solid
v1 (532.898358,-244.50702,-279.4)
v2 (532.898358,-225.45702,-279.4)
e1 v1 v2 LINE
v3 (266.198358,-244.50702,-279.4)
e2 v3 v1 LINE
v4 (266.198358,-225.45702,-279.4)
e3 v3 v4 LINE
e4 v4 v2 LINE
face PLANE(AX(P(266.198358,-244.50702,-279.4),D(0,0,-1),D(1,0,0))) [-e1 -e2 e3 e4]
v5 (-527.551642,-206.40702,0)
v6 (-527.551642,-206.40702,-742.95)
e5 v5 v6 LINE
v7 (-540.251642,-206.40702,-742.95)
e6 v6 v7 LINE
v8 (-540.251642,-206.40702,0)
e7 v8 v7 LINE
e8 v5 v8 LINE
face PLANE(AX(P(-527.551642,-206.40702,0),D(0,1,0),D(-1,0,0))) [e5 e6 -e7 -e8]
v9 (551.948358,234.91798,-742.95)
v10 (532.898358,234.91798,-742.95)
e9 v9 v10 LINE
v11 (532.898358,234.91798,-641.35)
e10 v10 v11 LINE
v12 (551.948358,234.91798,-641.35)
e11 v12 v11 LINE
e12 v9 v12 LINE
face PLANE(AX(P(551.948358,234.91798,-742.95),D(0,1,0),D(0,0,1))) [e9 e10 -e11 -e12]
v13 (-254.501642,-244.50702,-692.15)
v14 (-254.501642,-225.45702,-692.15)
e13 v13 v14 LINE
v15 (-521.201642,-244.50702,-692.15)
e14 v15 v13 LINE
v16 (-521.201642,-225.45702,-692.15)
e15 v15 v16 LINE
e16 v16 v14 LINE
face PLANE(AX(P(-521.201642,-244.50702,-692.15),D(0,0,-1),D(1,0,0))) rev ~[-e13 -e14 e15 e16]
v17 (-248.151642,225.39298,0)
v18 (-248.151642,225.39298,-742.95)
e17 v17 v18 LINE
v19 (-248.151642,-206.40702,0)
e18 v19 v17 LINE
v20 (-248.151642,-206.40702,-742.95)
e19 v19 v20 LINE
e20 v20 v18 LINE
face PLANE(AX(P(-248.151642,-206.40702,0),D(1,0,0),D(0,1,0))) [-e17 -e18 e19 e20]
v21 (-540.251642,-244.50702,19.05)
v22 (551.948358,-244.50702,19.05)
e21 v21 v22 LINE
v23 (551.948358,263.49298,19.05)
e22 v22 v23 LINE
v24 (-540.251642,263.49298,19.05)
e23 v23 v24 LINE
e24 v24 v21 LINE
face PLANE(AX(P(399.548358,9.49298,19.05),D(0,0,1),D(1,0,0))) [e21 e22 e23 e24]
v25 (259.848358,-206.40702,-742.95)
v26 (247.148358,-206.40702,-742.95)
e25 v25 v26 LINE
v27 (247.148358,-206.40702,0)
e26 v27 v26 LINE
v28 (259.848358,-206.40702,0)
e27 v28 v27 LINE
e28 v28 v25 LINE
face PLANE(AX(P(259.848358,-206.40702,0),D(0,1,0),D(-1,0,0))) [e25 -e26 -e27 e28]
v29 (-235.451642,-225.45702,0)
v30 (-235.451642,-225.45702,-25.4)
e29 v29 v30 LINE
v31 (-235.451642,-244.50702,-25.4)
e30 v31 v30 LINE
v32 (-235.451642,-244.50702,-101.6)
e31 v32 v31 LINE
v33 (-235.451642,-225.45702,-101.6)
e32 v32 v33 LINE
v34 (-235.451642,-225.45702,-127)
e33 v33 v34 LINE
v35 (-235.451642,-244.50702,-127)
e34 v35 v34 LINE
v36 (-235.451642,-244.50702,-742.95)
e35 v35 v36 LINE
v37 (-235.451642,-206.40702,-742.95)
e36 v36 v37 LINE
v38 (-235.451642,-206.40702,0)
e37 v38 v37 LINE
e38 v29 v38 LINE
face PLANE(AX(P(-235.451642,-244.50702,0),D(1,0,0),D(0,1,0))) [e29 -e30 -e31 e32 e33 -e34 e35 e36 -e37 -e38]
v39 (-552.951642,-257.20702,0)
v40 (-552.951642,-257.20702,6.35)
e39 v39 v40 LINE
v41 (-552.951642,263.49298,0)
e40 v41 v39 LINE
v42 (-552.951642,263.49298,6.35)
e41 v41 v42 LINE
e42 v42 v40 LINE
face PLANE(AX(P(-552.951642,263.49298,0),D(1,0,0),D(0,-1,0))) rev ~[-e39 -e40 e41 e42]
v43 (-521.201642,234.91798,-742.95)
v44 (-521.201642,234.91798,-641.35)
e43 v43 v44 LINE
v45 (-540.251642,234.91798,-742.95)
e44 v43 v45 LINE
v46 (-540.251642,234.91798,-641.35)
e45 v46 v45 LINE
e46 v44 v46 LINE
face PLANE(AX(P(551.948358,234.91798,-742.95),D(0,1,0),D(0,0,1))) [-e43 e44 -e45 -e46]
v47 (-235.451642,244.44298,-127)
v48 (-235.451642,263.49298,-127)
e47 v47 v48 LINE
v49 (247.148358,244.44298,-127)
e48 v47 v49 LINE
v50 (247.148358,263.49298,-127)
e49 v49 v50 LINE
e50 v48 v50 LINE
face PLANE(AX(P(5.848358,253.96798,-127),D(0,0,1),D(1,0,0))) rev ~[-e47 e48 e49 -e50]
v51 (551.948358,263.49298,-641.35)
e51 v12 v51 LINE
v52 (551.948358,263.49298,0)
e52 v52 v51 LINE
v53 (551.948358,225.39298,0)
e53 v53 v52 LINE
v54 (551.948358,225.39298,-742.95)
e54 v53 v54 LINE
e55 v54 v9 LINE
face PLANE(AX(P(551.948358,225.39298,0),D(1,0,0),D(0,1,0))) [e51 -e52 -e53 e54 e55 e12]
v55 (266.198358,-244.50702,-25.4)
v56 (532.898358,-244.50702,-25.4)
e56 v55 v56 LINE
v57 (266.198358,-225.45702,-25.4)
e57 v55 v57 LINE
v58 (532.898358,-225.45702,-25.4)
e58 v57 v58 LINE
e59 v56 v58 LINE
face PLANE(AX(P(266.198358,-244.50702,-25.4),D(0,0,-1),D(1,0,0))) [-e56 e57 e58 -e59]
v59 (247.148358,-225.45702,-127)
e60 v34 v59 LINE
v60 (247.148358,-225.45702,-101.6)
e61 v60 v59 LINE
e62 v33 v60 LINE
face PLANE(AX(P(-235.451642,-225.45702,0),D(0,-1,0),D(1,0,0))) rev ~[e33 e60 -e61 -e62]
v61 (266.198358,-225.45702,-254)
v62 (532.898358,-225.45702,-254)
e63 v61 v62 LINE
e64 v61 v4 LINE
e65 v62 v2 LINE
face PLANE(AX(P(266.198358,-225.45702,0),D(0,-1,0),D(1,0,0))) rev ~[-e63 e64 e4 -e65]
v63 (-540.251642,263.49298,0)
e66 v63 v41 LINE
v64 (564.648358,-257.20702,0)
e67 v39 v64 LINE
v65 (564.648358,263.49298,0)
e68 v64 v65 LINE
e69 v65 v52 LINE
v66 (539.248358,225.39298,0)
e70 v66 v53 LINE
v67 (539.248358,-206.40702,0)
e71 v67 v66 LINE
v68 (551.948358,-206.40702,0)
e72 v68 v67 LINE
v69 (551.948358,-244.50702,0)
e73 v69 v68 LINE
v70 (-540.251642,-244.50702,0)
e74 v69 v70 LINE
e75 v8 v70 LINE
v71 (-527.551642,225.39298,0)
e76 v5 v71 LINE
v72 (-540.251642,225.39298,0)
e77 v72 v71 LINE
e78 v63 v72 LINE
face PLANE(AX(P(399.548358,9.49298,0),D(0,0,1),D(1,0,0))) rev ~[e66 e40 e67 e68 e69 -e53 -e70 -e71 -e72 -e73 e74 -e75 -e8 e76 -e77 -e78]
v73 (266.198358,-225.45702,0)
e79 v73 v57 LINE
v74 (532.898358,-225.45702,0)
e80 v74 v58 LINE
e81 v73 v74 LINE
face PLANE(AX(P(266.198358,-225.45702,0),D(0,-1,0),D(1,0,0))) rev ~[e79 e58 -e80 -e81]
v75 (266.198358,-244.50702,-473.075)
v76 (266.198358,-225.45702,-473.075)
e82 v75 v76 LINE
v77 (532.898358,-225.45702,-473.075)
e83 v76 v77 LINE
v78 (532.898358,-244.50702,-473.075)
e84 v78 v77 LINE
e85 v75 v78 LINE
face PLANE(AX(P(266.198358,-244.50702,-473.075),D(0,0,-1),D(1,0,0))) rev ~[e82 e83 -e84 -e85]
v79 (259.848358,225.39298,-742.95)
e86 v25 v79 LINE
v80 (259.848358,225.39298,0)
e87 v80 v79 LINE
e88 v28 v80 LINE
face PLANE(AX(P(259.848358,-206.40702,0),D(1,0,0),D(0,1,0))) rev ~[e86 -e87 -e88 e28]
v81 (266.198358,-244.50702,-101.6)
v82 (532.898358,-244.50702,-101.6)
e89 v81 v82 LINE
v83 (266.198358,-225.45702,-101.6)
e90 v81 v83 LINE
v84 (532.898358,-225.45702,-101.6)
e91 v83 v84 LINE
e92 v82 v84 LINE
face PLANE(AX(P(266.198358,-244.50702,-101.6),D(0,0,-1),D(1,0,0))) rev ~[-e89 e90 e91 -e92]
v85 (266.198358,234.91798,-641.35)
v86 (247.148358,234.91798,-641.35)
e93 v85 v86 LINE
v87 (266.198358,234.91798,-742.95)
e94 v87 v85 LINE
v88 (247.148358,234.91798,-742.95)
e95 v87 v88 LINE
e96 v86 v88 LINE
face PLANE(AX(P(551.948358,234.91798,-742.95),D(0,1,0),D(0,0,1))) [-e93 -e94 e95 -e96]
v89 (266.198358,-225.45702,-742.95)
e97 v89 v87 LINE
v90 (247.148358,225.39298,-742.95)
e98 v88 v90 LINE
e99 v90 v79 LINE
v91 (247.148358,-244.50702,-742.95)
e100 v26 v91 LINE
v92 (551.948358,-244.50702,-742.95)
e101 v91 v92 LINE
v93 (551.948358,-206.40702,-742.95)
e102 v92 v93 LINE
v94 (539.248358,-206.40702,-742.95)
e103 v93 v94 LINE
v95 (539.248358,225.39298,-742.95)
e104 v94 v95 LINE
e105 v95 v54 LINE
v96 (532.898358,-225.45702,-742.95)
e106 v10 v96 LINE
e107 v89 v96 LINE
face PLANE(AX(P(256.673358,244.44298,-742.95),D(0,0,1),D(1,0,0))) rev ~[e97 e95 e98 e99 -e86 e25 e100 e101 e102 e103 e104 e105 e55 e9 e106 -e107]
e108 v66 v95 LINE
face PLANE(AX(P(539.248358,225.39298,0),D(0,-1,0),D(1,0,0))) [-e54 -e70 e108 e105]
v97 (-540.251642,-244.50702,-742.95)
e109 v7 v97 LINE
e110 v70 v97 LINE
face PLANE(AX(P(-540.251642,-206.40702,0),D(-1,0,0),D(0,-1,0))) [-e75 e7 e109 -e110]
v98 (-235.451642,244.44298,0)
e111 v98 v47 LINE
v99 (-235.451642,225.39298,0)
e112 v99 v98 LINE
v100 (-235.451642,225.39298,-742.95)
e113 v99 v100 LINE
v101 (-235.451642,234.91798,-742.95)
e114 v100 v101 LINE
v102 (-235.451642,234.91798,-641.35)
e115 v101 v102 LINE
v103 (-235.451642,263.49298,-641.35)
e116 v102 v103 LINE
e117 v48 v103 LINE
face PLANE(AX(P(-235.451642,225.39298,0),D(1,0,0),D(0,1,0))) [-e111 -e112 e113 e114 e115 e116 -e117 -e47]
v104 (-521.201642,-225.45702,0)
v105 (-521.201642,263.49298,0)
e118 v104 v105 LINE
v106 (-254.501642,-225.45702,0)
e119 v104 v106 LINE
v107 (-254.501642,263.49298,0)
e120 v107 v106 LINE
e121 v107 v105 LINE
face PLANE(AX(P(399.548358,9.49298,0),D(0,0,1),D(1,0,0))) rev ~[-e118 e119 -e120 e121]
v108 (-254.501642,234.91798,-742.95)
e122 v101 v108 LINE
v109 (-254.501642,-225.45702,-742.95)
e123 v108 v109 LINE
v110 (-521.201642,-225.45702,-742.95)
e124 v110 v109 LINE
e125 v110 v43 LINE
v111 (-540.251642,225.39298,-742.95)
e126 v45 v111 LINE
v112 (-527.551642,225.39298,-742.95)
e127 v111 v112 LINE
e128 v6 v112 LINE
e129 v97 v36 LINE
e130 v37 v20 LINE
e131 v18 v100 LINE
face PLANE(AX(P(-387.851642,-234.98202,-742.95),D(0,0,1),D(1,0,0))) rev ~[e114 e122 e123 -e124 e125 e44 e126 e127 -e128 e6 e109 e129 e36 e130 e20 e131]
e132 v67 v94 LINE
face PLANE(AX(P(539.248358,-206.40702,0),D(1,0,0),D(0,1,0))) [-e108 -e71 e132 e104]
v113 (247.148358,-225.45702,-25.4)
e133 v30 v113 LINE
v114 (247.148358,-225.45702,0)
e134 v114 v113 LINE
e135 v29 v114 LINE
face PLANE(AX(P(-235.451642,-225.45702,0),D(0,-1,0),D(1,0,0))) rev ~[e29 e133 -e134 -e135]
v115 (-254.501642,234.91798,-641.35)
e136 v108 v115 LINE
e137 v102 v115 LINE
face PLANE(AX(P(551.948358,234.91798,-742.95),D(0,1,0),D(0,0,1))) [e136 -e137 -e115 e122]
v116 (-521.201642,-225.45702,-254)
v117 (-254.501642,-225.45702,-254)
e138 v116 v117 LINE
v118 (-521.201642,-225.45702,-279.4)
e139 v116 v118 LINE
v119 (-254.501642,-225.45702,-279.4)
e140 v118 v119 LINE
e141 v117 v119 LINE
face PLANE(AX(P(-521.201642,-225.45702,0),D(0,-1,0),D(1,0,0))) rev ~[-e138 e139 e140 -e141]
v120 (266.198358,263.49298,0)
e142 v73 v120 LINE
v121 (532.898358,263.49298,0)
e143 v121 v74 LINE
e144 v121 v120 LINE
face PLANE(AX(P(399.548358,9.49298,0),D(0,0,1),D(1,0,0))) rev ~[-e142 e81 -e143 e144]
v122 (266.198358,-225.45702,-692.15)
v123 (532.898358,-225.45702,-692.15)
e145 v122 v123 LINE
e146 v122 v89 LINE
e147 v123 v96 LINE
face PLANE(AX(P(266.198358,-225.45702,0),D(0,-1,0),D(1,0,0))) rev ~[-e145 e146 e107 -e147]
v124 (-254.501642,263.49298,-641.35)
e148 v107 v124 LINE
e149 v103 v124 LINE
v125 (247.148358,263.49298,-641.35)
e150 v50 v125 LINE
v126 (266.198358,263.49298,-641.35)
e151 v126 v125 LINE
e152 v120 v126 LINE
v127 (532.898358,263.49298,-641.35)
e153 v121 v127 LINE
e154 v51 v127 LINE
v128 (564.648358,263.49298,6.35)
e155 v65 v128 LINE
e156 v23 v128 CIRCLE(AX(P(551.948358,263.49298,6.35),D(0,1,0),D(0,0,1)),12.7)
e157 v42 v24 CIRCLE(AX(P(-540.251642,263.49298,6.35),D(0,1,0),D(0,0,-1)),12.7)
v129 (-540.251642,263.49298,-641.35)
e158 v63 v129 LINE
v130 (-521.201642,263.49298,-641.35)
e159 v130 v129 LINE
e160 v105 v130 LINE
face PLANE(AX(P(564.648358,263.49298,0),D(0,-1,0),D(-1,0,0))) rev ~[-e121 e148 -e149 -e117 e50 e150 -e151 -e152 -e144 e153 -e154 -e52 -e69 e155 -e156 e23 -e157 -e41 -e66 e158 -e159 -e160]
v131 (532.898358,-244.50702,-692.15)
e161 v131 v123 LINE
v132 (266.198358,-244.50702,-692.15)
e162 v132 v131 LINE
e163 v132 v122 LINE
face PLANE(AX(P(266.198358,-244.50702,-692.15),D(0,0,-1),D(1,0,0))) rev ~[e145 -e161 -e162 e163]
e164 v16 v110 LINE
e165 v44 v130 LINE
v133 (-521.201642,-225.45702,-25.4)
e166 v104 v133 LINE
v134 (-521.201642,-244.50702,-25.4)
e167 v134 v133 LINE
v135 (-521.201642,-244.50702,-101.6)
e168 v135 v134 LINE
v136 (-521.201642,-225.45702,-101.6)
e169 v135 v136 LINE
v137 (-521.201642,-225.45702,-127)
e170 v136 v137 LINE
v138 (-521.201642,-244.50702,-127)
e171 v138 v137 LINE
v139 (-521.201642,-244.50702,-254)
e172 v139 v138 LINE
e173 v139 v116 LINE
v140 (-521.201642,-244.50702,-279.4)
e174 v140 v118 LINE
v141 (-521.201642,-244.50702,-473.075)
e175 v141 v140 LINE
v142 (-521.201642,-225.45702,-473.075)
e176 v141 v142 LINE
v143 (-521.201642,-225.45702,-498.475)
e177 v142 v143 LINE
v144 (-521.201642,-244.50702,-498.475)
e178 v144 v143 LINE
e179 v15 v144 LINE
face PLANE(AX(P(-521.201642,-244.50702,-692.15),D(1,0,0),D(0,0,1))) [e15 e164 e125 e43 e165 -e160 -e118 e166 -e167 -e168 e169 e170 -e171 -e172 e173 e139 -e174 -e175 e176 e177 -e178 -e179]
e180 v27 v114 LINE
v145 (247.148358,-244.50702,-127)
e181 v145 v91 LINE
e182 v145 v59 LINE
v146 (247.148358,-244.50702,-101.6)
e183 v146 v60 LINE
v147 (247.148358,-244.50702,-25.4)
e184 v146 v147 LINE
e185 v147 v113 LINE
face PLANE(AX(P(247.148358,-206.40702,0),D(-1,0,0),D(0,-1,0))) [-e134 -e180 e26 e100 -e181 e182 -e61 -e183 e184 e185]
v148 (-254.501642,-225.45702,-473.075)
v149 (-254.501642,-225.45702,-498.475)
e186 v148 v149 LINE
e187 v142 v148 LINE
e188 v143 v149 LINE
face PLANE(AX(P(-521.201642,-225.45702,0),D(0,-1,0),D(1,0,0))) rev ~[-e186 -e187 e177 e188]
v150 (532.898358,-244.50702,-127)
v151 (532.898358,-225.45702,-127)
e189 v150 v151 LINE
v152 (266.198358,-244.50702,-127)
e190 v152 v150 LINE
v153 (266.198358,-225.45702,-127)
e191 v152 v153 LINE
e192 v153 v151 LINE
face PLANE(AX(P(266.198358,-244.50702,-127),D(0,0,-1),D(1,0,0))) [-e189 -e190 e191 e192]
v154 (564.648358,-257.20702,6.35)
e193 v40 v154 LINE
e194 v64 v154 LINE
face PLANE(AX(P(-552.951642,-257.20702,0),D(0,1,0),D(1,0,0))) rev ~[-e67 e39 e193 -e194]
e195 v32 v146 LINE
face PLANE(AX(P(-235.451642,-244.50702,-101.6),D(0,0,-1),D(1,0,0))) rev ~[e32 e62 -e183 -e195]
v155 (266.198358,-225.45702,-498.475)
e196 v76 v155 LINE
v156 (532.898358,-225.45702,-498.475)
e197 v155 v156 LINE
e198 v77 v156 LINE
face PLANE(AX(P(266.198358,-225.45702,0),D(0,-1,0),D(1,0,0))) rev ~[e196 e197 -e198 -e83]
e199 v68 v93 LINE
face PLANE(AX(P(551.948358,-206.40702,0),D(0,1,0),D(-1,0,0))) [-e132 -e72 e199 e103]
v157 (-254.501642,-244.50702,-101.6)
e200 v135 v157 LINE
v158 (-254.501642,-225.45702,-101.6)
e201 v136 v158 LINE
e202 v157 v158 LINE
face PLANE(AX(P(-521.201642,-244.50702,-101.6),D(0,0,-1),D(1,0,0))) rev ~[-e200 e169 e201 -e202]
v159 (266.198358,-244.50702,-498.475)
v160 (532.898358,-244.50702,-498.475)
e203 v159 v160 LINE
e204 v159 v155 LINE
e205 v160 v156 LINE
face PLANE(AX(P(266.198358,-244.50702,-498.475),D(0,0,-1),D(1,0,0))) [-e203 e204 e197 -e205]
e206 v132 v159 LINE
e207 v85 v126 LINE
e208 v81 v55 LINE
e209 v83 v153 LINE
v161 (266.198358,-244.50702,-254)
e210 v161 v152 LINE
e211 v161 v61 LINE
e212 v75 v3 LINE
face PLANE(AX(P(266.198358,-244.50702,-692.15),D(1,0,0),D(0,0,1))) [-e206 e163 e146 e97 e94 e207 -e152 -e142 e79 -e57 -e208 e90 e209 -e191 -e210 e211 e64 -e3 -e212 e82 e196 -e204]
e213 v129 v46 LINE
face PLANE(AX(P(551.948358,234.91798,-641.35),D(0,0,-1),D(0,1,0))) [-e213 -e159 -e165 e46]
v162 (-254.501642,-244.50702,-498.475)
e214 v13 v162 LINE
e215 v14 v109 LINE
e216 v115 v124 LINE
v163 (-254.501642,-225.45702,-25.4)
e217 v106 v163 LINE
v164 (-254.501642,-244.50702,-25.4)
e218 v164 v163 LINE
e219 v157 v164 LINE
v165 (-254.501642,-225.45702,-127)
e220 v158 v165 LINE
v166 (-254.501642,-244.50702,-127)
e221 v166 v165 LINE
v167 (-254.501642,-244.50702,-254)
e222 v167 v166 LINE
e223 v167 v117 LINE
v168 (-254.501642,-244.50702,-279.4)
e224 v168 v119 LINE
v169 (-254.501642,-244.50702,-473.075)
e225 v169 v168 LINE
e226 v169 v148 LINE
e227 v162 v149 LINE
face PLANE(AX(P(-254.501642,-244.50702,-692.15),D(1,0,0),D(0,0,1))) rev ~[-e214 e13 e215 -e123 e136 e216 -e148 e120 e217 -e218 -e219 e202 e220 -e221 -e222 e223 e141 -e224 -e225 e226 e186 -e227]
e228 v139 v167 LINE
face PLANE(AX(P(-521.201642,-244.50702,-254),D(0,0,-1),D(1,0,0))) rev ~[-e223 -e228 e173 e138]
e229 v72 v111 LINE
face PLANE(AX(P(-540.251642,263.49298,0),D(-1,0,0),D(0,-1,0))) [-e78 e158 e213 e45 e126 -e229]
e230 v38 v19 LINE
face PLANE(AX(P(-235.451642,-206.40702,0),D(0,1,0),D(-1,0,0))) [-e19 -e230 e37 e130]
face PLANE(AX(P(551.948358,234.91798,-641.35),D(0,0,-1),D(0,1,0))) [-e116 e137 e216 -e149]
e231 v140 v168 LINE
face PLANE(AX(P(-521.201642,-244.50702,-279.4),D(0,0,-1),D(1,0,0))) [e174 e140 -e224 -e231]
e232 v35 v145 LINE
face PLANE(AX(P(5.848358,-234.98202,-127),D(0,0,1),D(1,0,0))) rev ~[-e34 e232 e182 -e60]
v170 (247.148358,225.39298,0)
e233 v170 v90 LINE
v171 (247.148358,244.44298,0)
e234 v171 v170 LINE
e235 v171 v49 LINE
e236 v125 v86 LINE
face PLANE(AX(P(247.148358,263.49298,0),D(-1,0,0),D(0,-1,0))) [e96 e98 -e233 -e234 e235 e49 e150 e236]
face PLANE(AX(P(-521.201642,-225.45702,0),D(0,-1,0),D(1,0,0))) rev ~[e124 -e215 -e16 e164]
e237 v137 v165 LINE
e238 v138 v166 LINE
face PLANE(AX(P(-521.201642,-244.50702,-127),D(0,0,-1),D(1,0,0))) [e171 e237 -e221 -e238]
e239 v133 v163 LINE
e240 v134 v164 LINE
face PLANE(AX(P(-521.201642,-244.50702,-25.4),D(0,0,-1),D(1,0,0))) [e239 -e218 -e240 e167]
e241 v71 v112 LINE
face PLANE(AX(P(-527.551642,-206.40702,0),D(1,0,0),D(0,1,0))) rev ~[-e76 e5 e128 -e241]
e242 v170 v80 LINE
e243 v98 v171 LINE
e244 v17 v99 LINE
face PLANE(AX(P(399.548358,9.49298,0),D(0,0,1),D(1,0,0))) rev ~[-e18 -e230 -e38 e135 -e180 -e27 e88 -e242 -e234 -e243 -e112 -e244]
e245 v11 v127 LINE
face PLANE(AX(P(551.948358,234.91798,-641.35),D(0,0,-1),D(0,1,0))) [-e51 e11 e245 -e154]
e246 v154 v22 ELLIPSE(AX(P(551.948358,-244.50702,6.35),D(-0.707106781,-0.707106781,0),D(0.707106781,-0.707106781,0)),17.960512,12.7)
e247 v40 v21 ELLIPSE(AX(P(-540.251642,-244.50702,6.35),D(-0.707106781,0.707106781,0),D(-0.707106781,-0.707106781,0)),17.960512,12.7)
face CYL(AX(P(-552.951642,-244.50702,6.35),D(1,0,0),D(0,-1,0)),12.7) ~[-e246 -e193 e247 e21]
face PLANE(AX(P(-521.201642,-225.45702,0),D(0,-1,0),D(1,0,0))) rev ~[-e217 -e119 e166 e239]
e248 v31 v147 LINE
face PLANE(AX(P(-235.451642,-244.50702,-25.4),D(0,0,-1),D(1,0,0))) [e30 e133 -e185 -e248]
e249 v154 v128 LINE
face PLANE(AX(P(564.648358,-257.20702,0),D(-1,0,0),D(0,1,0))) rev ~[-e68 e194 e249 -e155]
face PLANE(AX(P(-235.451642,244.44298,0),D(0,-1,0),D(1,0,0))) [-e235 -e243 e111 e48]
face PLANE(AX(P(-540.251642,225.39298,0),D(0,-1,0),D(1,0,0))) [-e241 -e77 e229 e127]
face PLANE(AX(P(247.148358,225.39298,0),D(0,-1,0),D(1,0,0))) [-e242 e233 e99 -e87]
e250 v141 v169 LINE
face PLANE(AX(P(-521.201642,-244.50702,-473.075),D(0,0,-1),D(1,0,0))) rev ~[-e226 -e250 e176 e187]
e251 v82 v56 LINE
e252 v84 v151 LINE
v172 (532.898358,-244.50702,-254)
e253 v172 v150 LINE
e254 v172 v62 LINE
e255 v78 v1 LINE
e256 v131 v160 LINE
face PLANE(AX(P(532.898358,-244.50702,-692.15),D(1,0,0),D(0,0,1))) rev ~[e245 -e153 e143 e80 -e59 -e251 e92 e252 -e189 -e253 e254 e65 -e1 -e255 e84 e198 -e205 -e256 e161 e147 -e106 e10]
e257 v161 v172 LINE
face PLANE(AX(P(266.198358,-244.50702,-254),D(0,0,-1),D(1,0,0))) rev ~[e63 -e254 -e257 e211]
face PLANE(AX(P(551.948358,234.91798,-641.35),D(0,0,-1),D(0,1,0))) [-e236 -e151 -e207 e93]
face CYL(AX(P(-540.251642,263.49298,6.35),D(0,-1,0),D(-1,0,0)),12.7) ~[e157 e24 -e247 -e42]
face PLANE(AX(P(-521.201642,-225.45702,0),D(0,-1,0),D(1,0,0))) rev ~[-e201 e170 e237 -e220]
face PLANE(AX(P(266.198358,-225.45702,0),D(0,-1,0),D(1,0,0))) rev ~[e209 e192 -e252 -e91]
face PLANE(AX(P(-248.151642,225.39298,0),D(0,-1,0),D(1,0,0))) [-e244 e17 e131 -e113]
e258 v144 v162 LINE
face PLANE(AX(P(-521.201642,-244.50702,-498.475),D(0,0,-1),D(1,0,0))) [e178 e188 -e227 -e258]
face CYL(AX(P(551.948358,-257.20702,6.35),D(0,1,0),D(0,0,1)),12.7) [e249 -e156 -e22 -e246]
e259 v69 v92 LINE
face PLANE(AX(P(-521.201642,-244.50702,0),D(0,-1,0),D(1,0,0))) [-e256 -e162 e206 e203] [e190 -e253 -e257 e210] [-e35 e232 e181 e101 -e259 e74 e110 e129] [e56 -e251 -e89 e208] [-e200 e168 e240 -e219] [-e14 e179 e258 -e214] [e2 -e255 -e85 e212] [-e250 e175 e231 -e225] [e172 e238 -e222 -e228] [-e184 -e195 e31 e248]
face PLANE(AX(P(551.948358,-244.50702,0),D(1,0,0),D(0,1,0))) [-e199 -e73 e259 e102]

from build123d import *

# Parameters (mm, degrees)
F0_W      = 266.7
F0_H      = 19.05
F0_W_2    = 6.35
F0_H_2    = 431.8
F0_W_3    = 482.6
F1_DEPTH  = 19.05
F2_DEPTH  = 742.95
F3_R      = 12.7
F4_DEPTH  = 127
F5_DEPTH  = 127
F6_DEPTH  = 742.95
F7_W      = 482.6
F7_H      = 76.2
F7_W_2    = 266.7
F7_H_2    = 193.675
F7_H_3    = 127
F8_DEPTH  = 25.4
F9_W      = 28.575
F9_H      = 101.6
F10_DEPTH = 1104.901


with BuildPart() as f1:
    # F0 (on Top) → F1 (new body)
    with BuildSketch(Plane.XY):
        Polygon((532.898358, 244.44298), (266.198358, 244.44298), (266.198358, 225.39298), (266.198358, -206.40702), (266.198358, -225.45702), (532.898358, -225.45702), (532.898358, -206.40702), (532.898358, 225.39298), align=None)
        Polygon((266.198358, 263.49298), (247.148358, 263.49298), (247.148358, 244.44298), (247.148358, 225.39298), (259.848358, 225.39298), (266.198358, 225.39298), (266.198358, 244.44298), align=None)
        with Locations((399.548358, 253.96798)):
            Rectangle(F0_W, F0_H)
        Polygon((551.948358, 263.49298), (532.898358, 263.49298), (532.898358, 244.44298), (532.898358, 225.39298), (539.248358, 225.39298), (551.948358, 225.39298), align=None)
        with Locations((263.023358, 9.49298)):
            Rectangle(F0_W_2, F0_H_2)
        with Locations((536.073358, 9.49298)):
            Rectangle(F0_W_2, F0_H_2)
        with Locations((-387.851642, 253.96798)):
            Rectangle(F0_W, F0_H)
        Polygon((-235.451642, 263.49298), (-254.501642, 263.49298), (-254.501642, 244.44298), (-254.501642, 225.39298), (-248.151642, 225.39298), (-235.451642, 225.39298), (-235.451642, 244.44298), align=None)
        with Locations((-387.851642, -234.98202)):
            Rectangle(F0_W, F0_H)
        with Locations((399.548358, -234.98202)):
            Rectangle(F0_W, F0_H)
        Polygon((-521.201642, -225.45702), (-521.201642, -206.40702), (-527.551642, -206.40702), (-540.251642, -206.40702), (-540.251642, -244.50702), (-521.201642, -244.50702), align=None)
        Polygon((-248.151642, -206.40702), (-254.501642, -206.40702), (-254.501642, -225.45702), (-254.501642, -244.50702), (-235.451642, -244.50702), (-235.451642, -225.45702), (-235.451642, -206.40702), align=None)
        Polygon((266.198358, -206.40702), (259.848358, -206.40702), (247.148358, -206.40702), (247.148358, -225.45702), (247.148358, -244.50702), (266.198358, -244.50702), (266.198358, -225.45702), align=None)
        Polygon((539.248358, -206.40702), (532.898358, -206.40702), (532.898358, -225.45702), (532.898358, -244.50702), (551.948358, -244.50702), (551.948358, -206.40702), align=None)
        Polygon((-521.201642, 244.44298), (-521.201642, 263.49298), (-540.251642, 263.49298), (-540.251642, 225.39298), (-527.551642, 225.39298), (-521.201642, 225.39298), align=None)
        with Locations((-524.376642, 9.49298)):
            Rectangle(F0_W_2, F0_H_2)
        with Locations((-251.326642, 9.49298)):
            Rectangle(F0_W_2, F0_H_2)
        Polygon((-254.501642, 244.44298), (-521.201642, 244.44298), (-521.201642, 225.39298), (-521.201642, -206.40702), (-521.201642, -225.45702), (-254.501642, -225.45702), (-254.501642, -206.40702), (-254.501642, 225.39298), align=None)
        Polygon((-540.251642, 225.39298), (-540.251642, 263.49298), (-552.951642, 263.49298), (-552.951642, -257.20702), (564.648358, -257.20702), (564.648358, 263.49298), (551.948358, 263.49298), (551.948358, 225.39298), (539.248358, 225.39298), (539.248358, -206.40702), (551.948358, -206.40702), (551.948358, -244.50702), (532.898358, -244.50702), (266.198358, -244.50702), (247.148358, -244.50702), (-235.451642, -244.50702), (-254.501642, -244.50702), (-521.201642, -244.50702), (-540.251642, -244.50702), (-540.251642, -206.40702), (-527.551642, -206.40702), (-527.551642, 225.39298), align=None)
        with Locations((5.848358, 253.96798)):
            Rectangle(F0_W_3, F0_H)
        Polygon((247.148358, 244.44298), (-235.451642, 244.44298), (-235.451642, 225.39298), (-248.151642, 225.39298), (-248.151642, -206.40702), (-235.451642, -206.40702), (-235.451642, -225.45702), (247.148358, -225.45702), (247.148358, -206.40702), (259.848358, -206.40702), (259.848358, 225.39298), (247.148358, 225.39298), align=None)
        with Locations((5.848358, -234.98202)):
            Rectangle(F0_W_3, F0_H)
    extrude(amount=F1_DEPTH)

    # F0 (on Top) → F2 (join)
    with BuildSketch(Plane.XY):
        Polygon((-248.151642, -206.40702), (-254.501642, -206.40702), (-254.501642, -225.45702), (-254.501642, -244.50702), (-235.451642, -244.50702), (-235.451642, -225.45702), (-235.451642, -206.40702), align=None)
        Polygon((-521.201642, -225.45702), (-521.201642, -206.40702), (-527.551642, -206.40702), (-540.251642, -206.40702), (-540.251642, -244.50702), (-521.201642, -244.50702), align=None)
        with Locations((-524.376642, 9.49298)):
            Rectangle(F0_W_2, F0_H_2)
        with Locations((-251.326642, 9.49298)):
            Rectangle(F0_W_2, F0_H_2)
        Polygon((-521.201642, 244.44298), (-521.201642, 263.49298), (-540.251642, 263.49298), (-540.251642, 225.39298), (-527.551642, 225.39298), (-521.201642, 225.39298), align=None)
        Polygon((-235.451642, 263.49298), (-254.501642, 263.49298), (-254.501642, 244.44298), (-254.501642, 225.39298), (-248.151642, 225.39298), (-235.451642, 225.39298), (-235.451642, 244.44298), align=None)
        Polygon((266.198358, 263.49298), (247.148358, 263.49298), (247.148358, 244.44298), (247.148358, 225.39298), (259.848358, 225.39298), (266.198358, 225.39298), (266.198358, 244.44298), align=None)
        Polygon((551.948358, 263.49298), (532.898358, 263.49298), (532.898358, 244.44298), (532.898358, 225.39298), (539.248358, 225.39298), (551.948358, 225.39298), align=None)
        Polygon((266.198358, -206.40702), (259.848358, -206.40702), (247.148358, -206.40702), (247.148358, -225.45702), (247.148358, -244.50702), (266.198358, -244.50702), (266.198358, -225.45702), align=None)
        Polygon((539.248358, -206.40702), (532.898358, -206.40702), (532.898358, -225.45702), (532.898358, -244.50702), (551.948358, -244.50702), (551.948358, -206.40702), align=None)
        with Locations((536.073358, 9.49298)):
            Rectangle(F0_W_2, F0_H_2)
        with Locations((263.023358, 9.49298)):
            Rectangle(F0_W_2, F0_H_2)
    extrude(amount=-F2_DEPTH)

    # F3
    f3_edges = [f1.edges().sort_by_distance(p)[0] for p in [
        (-552.951642, 3.14298, 19.05),
        (5.848358, -257.20702, 19.05),
        (564.648358, 3.14298, 19.05),
    ]]
    fillet(f3_edges, radius=F3_R)

    # F0 (on Top) → F4 (join)
    with BuildSketch(Plane.XY):
        with Locations((5.848358, 253.96798)):
            Rectangle(F0_W_3, F0_H)
    extrude(amount=-F4_DEPTH)

    # F0 (on Top) → F5 (join)
    with BuildSketch(Plane.XY):
        with Locations((5.848358, -234.98202)):
            Rectangle(F0_W_3, F0_H)
    extrude(amount=-F5_DEPTH)

    # F0 (on Top) → F6 (join, through all)
    with BuildSketch(Plane.XY):
        with Locations((-387.851642, -234.98202)):
            Rectangle(F0_W, F0_H)
        with Locations((399.548358, -234.98202)):
            Rectangle(F0_W, F0_H)
    extrude(amount=-F6_DEPTH)

    # F7 (on face) → F8 (cut)
    with BuildSketch(Plane.XZ.offset(244.50702)):
        with Locations((5.848358, -63.5)):
            Rectangle(F7_W, F7_H)
        with Locations((-387.851642, -376.2375)):
            Rectangle(F7_W_2, F7_H_2)
        with Locations((-387.851642, -190.5)):
            Rectangle(F7_W_2, F7_H_3)
        with Locations((-387.851642, -63.5)):
            Rectangle(F7_W_2, F7_H)
        with Locations((-387.851642, -595.3125)):
            Rectangle(F7_W_2, F7_H_2)
        with Locations((399.548358, -595.3125)):
            Rectangle(F7_W_2, F7_H_2)
        with Locations((399.548358, -376.2375)):
            Rectangle(F7_W_2, F7_H_2)
        with Locations((399.548358, -190.5)):
            Rectangle(F7_W_2, F7_H_3)
        with Locations((399.548358, -63.5)):
            Rectangle(F7_W_2, F7_H)
    extrude(amount=-F8_DEPTH, mode=Mode.SUBTRACT)

    # F9 (on face) → F10 (cut, through all)
    with BuildSketch(Plane.YZ.offset(551.948358)):
        with Locations((249.20548, -692.15)):
            Rectangle(F9_W, F9_H)
    extrude(amount=-F10_DEPTH, mode=Mode.SUBTRACT)


solid = f1.part
